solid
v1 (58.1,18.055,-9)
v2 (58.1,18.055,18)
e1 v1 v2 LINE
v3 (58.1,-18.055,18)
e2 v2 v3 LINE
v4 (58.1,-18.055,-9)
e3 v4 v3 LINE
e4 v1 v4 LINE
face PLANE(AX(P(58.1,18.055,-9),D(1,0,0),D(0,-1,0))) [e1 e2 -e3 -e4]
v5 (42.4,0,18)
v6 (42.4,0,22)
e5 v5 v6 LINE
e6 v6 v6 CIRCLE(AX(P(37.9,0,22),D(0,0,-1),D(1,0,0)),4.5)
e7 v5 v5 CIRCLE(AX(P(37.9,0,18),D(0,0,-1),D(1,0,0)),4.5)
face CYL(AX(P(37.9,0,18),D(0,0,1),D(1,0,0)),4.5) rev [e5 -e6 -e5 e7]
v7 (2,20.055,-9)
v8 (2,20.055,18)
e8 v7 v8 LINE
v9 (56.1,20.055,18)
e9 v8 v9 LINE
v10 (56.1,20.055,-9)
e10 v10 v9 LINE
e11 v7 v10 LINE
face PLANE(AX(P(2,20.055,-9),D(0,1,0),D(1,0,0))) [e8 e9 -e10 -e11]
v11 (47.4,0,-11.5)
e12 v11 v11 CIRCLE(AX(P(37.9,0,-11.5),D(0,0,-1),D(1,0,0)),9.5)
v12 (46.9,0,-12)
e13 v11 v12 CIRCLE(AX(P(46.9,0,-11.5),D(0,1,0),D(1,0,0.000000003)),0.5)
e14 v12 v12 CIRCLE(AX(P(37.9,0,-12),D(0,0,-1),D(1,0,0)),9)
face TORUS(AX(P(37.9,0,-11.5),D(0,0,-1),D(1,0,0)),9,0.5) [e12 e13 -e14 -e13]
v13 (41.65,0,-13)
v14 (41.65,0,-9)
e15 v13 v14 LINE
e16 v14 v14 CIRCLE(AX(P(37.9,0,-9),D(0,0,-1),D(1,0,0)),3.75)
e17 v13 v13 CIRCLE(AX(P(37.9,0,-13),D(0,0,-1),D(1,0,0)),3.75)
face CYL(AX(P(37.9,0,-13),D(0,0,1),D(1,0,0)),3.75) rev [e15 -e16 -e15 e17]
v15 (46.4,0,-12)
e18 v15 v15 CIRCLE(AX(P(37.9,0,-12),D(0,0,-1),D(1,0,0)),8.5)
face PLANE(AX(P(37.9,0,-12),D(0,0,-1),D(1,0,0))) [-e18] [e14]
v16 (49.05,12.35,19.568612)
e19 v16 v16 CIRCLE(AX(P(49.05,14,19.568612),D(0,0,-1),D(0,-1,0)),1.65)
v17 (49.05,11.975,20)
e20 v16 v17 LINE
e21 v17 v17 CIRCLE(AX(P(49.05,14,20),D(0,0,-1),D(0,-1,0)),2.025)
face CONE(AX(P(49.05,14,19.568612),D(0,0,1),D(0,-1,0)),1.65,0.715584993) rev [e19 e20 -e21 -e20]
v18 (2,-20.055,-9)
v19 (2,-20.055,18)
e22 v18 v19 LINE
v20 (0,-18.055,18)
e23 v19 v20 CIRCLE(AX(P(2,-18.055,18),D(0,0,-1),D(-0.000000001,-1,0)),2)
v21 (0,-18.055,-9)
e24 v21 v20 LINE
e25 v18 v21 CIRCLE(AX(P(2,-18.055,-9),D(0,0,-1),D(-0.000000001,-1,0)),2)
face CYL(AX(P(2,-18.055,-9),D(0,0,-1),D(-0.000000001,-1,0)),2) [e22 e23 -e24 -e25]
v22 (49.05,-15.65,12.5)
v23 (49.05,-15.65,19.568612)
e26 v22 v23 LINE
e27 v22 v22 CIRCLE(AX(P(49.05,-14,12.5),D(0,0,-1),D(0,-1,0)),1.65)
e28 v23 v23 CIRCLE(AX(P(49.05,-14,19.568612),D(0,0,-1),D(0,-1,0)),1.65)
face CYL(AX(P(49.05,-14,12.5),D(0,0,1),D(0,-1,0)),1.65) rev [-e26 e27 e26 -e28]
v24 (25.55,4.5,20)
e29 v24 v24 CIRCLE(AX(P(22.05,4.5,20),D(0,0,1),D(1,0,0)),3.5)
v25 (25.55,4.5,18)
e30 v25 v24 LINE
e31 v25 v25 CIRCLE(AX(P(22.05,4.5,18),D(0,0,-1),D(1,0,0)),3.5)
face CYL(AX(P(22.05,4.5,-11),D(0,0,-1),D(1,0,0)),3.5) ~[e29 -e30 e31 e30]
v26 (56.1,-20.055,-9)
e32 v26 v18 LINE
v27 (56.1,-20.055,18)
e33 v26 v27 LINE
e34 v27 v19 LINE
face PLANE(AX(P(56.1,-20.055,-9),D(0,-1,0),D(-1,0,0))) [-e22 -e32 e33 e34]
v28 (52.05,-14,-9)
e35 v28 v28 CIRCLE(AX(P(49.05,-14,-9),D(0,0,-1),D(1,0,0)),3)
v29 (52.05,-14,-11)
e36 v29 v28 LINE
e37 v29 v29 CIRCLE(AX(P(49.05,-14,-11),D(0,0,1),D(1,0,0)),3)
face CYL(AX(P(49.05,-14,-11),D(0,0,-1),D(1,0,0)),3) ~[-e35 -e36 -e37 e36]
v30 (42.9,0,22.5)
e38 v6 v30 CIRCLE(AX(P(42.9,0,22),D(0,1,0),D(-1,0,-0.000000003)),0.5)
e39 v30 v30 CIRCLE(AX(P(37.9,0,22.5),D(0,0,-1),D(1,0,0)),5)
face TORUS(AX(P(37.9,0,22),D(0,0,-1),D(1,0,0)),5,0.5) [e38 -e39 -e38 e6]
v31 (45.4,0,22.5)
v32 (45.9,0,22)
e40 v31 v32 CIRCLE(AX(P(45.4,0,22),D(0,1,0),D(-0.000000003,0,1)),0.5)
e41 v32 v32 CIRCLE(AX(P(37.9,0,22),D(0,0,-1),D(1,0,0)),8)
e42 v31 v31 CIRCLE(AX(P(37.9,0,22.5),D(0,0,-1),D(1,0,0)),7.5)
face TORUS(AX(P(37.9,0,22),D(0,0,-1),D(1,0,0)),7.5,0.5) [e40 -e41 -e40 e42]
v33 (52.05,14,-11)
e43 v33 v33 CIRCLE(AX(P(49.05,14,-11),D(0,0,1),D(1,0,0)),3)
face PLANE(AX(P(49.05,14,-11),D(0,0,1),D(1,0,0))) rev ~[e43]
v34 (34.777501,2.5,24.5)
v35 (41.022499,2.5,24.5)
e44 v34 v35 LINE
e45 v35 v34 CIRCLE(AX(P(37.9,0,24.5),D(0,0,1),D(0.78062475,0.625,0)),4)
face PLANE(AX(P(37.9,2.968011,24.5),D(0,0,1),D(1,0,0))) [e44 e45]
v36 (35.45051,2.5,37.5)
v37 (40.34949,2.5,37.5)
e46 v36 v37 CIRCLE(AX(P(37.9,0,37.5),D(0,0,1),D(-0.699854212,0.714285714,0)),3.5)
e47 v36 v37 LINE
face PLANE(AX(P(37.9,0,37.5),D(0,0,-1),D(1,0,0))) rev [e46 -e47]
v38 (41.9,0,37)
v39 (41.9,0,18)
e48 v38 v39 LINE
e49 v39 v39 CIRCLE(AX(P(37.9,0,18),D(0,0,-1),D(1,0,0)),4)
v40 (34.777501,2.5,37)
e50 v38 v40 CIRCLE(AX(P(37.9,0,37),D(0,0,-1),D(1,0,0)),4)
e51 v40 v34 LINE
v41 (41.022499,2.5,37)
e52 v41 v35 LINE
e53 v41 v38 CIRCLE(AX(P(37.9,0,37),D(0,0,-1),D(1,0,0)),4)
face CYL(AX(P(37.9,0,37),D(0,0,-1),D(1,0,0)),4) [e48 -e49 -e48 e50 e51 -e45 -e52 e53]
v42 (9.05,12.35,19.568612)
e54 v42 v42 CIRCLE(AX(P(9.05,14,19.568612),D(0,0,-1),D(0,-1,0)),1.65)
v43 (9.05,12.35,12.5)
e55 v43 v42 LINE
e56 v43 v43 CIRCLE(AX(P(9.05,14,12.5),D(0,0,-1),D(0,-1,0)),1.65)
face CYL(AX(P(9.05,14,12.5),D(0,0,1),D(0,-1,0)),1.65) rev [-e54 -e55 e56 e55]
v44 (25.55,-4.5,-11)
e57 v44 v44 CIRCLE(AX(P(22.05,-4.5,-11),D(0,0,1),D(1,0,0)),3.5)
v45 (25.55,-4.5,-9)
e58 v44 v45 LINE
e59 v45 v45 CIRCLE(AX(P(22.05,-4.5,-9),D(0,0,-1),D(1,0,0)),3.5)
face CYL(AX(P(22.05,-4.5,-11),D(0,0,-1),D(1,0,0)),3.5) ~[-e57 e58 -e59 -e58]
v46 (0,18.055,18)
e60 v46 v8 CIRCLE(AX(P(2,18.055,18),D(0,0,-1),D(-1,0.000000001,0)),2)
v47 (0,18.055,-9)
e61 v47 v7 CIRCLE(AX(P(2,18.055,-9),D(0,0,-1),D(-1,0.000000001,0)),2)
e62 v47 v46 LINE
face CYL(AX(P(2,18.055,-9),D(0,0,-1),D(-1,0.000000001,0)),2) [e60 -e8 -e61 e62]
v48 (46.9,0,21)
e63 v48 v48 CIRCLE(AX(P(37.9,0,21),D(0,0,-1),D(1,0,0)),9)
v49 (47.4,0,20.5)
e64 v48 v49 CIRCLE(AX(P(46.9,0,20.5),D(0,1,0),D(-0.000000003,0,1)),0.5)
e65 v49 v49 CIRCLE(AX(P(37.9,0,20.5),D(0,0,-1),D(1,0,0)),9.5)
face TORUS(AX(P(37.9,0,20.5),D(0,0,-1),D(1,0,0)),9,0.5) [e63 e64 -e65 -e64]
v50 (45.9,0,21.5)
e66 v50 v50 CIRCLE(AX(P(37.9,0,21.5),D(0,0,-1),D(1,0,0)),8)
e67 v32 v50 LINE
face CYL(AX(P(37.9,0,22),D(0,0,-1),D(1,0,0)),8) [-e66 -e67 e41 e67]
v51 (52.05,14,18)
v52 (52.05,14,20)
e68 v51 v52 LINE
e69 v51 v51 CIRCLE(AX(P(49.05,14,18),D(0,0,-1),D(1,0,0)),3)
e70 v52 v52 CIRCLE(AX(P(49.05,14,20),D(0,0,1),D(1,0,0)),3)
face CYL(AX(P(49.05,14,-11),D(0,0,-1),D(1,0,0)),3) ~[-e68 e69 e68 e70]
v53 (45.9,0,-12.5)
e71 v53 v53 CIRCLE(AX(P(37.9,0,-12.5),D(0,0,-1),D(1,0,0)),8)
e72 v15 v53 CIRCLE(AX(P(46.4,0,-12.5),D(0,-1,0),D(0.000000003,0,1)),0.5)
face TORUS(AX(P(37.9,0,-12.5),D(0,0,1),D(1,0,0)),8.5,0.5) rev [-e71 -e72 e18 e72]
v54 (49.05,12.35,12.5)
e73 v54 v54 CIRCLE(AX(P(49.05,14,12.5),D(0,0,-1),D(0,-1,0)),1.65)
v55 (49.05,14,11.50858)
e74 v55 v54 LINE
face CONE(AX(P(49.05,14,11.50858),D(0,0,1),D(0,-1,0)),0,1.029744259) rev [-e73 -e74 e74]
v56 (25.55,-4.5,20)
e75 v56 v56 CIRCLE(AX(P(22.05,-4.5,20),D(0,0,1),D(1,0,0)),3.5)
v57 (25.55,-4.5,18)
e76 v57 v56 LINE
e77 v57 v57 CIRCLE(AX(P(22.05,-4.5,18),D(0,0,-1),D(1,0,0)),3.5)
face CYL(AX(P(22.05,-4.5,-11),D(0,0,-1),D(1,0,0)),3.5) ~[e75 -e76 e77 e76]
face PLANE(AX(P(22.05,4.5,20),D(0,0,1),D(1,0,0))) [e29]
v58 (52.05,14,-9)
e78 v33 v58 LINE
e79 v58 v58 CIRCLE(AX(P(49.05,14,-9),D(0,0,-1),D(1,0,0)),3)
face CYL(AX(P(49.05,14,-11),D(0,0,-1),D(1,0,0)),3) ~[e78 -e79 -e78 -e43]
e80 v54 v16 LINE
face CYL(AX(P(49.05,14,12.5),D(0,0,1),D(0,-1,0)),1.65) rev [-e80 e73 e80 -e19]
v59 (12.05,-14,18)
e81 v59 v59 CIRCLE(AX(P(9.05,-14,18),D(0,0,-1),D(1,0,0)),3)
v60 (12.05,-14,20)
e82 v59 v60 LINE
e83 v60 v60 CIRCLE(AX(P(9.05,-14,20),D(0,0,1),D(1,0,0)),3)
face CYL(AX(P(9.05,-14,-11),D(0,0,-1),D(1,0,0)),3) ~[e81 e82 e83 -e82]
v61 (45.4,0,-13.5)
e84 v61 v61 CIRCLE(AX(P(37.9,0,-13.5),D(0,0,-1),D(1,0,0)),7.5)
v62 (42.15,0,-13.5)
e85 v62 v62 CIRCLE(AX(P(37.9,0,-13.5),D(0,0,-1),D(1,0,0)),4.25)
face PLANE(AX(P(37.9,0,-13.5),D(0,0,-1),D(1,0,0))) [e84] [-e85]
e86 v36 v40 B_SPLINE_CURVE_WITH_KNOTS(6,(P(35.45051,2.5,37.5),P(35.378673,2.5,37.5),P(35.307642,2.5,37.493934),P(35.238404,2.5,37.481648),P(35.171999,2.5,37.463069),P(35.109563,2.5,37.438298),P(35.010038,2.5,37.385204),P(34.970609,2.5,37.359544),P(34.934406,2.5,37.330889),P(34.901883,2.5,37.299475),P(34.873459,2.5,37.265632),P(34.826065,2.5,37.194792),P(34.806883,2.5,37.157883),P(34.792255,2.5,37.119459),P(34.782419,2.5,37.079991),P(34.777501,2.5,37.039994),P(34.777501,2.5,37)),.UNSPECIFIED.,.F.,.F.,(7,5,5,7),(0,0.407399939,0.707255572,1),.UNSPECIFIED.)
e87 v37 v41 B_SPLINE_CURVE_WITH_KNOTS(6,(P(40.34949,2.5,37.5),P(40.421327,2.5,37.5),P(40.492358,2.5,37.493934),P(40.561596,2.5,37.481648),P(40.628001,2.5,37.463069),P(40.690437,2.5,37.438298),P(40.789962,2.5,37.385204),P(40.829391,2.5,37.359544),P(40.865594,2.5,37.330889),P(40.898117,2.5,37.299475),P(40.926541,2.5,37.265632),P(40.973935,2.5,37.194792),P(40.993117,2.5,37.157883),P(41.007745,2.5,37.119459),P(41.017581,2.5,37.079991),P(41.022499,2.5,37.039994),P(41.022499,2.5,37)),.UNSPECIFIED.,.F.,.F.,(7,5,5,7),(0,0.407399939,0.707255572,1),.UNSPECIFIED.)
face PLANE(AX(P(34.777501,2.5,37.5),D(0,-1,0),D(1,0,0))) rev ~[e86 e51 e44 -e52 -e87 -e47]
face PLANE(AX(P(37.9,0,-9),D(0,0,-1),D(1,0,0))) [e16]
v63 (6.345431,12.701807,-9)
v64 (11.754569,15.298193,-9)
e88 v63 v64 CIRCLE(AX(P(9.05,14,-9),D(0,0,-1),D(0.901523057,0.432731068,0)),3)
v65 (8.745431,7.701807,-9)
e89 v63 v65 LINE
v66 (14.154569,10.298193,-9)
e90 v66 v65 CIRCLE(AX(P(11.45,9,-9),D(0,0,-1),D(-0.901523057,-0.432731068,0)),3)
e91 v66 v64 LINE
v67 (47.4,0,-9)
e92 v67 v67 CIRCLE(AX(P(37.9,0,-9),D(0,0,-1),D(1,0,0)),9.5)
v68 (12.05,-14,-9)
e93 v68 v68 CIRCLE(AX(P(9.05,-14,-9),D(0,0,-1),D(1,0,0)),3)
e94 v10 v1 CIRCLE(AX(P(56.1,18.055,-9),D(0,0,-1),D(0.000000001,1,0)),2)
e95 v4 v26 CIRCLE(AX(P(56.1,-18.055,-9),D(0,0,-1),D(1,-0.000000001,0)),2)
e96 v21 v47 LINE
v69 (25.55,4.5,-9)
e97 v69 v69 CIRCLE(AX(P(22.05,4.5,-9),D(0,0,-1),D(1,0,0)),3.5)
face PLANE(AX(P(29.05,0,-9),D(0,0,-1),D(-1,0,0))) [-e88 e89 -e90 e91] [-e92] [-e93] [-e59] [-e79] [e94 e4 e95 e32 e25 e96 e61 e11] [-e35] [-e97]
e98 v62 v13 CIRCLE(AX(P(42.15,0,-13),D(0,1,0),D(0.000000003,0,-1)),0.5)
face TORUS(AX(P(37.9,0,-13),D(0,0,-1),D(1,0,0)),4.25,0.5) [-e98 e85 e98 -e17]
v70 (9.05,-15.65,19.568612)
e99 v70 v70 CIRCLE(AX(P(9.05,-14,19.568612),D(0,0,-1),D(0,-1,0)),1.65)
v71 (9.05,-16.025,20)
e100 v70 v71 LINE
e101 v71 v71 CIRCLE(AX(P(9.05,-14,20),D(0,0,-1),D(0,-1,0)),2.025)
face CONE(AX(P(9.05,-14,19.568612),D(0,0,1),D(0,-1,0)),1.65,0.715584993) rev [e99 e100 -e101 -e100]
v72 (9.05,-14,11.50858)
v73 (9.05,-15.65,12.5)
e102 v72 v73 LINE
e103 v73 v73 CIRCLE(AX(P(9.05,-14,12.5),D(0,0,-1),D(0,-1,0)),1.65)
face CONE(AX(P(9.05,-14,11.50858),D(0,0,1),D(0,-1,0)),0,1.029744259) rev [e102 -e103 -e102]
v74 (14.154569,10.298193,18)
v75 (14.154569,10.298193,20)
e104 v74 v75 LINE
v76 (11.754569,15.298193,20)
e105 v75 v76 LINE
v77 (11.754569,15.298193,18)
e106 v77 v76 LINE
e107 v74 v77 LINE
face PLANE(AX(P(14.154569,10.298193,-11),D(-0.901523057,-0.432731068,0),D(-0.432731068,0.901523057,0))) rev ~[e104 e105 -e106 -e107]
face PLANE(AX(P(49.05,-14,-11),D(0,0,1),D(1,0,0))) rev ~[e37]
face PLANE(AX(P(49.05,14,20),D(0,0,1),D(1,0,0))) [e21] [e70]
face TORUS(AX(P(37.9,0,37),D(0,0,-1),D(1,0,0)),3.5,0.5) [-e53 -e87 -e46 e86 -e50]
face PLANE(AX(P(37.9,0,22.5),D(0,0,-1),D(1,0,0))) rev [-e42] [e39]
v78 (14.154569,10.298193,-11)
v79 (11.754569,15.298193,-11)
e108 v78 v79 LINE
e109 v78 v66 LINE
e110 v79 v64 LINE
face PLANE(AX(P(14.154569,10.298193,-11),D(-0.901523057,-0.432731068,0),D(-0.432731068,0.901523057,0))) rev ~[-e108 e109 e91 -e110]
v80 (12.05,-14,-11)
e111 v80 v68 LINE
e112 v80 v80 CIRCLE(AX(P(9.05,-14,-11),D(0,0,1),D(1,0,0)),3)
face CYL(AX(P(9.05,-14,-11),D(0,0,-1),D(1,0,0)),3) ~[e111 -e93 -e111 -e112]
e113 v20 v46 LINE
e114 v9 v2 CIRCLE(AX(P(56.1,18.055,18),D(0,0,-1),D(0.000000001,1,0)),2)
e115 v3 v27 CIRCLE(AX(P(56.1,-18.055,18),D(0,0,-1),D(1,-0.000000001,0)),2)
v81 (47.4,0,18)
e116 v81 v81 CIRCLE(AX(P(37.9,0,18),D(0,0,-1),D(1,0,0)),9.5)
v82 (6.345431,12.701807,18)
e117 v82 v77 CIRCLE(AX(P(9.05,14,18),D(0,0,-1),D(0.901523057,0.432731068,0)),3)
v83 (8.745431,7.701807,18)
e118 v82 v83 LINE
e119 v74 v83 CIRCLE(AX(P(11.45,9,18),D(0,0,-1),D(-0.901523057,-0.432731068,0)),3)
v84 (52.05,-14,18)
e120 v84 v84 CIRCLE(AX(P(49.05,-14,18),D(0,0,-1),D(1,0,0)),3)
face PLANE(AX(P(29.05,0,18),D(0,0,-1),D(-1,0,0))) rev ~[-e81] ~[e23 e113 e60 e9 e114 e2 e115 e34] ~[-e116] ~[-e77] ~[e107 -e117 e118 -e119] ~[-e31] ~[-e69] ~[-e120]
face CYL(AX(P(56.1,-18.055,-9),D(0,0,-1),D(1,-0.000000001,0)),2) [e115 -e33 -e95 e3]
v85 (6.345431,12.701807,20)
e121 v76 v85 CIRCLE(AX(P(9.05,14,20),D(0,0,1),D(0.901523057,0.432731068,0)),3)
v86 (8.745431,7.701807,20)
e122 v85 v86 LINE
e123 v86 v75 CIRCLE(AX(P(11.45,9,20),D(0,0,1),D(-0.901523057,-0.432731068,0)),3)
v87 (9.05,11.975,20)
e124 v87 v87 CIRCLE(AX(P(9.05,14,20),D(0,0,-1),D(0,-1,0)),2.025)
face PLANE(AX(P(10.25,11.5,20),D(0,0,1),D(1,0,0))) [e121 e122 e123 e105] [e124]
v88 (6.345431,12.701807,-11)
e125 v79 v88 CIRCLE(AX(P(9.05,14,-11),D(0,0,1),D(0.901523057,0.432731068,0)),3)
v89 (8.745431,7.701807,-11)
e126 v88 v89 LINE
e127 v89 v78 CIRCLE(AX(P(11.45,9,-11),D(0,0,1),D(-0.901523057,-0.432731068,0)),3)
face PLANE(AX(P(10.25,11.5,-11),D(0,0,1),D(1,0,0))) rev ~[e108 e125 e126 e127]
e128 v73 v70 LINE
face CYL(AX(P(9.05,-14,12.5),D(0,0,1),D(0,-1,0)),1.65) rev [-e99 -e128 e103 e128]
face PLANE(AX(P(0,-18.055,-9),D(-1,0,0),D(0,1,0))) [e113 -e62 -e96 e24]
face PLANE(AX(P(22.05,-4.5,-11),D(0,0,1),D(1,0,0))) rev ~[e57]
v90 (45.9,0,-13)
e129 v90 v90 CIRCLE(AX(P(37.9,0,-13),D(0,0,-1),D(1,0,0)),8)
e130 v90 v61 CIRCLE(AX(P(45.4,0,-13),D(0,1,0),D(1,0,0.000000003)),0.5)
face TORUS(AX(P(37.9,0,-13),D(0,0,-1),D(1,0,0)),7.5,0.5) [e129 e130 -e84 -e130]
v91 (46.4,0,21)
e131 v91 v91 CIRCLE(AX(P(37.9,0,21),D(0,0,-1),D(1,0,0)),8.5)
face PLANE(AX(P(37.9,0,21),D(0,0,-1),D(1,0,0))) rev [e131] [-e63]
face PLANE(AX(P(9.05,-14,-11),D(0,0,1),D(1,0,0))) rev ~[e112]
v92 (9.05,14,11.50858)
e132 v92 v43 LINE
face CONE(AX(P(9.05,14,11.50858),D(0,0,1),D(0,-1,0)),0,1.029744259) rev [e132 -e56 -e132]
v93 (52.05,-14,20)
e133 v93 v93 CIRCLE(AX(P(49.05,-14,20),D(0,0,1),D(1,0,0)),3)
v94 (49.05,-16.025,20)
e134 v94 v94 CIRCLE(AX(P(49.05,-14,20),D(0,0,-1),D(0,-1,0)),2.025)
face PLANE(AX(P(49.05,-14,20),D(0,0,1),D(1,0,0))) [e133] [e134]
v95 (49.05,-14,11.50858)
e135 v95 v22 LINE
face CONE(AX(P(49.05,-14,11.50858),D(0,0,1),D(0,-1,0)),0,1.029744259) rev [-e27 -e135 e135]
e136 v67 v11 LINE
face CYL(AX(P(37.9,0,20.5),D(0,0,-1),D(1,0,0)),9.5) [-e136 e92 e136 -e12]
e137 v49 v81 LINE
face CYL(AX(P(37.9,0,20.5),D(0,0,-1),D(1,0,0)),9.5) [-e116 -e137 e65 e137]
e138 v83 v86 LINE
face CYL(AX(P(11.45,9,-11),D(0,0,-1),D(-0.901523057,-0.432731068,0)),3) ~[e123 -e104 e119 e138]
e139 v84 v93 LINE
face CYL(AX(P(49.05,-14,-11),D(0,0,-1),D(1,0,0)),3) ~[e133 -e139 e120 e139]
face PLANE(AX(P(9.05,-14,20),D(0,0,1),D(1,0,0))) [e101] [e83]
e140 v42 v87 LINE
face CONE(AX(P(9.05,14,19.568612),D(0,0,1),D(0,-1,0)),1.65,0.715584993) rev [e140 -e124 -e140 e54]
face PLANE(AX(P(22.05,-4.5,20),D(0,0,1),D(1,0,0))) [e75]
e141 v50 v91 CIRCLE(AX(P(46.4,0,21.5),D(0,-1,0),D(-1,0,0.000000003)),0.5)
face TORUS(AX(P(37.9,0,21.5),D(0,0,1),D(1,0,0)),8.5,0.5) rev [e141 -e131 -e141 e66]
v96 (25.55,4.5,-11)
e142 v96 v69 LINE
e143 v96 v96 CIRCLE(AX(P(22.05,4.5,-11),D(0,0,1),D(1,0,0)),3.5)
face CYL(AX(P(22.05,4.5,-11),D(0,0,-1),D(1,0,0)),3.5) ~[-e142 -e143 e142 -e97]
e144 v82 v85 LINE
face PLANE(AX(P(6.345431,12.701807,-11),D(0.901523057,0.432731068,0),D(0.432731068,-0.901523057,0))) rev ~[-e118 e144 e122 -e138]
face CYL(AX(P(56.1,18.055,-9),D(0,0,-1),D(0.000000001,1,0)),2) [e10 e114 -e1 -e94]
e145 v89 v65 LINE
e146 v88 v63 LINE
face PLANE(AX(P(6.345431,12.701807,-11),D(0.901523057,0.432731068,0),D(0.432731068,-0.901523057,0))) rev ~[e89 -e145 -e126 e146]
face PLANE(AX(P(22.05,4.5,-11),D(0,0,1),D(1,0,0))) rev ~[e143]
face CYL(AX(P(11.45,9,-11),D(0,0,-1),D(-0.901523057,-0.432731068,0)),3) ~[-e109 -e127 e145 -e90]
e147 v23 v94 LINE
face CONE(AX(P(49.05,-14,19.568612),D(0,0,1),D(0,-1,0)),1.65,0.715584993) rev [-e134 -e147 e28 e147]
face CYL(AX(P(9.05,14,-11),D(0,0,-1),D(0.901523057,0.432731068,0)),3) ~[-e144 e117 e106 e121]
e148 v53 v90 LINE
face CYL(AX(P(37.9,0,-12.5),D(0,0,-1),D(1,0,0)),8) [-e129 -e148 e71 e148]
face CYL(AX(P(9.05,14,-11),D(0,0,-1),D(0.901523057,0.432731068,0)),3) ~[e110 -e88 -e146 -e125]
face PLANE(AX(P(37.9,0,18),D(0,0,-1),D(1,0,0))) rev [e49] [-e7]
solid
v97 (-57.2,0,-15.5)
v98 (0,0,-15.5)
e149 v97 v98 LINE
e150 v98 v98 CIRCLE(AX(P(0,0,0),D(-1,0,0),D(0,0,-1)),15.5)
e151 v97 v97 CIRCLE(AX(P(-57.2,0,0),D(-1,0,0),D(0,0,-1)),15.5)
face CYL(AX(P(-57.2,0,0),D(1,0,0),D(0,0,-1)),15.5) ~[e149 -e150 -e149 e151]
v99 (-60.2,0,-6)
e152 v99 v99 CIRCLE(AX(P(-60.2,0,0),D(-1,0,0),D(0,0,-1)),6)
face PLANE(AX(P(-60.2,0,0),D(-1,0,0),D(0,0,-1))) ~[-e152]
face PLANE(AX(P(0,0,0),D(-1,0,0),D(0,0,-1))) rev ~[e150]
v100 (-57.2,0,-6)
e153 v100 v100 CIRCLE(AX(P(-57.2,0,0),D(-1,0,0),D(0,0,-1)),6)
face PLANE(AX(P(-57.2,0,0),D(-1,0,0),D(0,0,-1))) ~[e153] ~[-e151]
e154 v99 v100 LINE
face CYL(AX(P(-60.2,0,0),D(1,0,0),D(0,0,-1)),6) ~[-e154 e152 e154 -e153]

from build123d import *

# Parameters (mm, degrees)
SALIENTE_EXTRUIR1_DEPTH            = 18
SALIENTE_EXTRUIR1_DEPTH_BACK       = 9
SALIENTE_EXTRUIR2_DEPTH            = 20
SALIENTE_EXTRUIR2_DEPTH_BACK       = 11
CROQUIS3_3_R                       = 3
CROQUIS3_3_R_2                     = 3.5
CORTAR_EXTRUIR1_DEPTH              = 13
TALADRO_ROSCADO_M4X0_71_AT_2_COUNT = 2
TALADRO_ROSCADO_M4X0_71_AT_2_PITCH = 40
TALADRO_ROSCADO_M4X0_71_AT_3_COUNT = 2
TALADRO_ROSCADO_M4X0_71_AT_3_PITCH = 48.826222463
TALADRO_ROSCADO_M4X0_71_AT_4_COUNT = 2
TALADRO_ROSCADO_M4X0_71_AT_4_PITCH = 28


with BuildPart() as part:
    # Croquis2 → Revolución1 (revolve)
    with BuildSketch(Plane.XY):
        Polygon((-57.2, 6), (-57.2, 15.5), (0, 15.5), (0, 0), (-57.2, 0), (-60.2, 0), (-60.2, 6), align=None)
    revolve(axis=Axis((0, 0, 0), (-1, 0, 0)))


with BuildPart() as body_2:
    # Croquis3 → Saliente-Extruir1 (new, two sides: drawn at the far end of the back side and taken through both)
    with BuildSketch(Plane.XY.offset(-SALIENTE_EXTRUIR1_DEPTH_BACK)):
        with BuildLine():
            Line((2, 20.055), (56.1, 20.055))
            ThreePointArc((56.1, 20.055), (57.514213562, 19.469213562), (58.1, 18.055))
            Line((58.1, 18.055), (58.1, -18.055))
            ThreePointArc((58.1, -18.055), (57.514213562, -19.469213562), (56.1, -20.055))
            Line((56.1, -20.055), (2, -20.055))
            ThreePointArc((2, -20.055), (0.585786438, -19.469213562), (0, -18.055))
            Line((0, -18.055), (0, 18.055))
            ThreePointArc((0, 18.055), (0.585786438, 19.469213562), (2, 20.055))
        make_face()
    extrude(amount=SALIENTE_EXTRUIR1_DEPTH + SALIENTE_EXTRUIR1_DEPTH_BACK)

    # Croquis3<3> → Saliente-Extruir2 (add, two sides: drawn at the far end of the back side and taken through both)
    with BuildSketch(Plane.XY.offset(-SALIENTE_EXTRUIR2_DEPTH_BACK)):
        with BuildLine():
            Line((14.154569172, 10.298193203), (11.754569172, 15.298193203))
            ThreePointArc((11.754569172, 15.298193203), (7.751806797, 16.704569172), (6.345430828, 12.701806797))
            Line((6.345430828, 12.701806797), (8.745430828, 7.701806797))
            ThreePointArc((8.745430828, 7.701806797), (12.748193203, 6.295430828), (14.154569172, 10.298193203))
        make_face()
        with Locations((49.05, 14)):
            Circle(CROQUIS3_3_R)
        with Locations((49.05, -14)):
            Circle(CROQUIS3_3_R)
        with Locations((9.05, -14)):
            Circle(CROQUIS3_3_R)
        with Locations((22.05, 4.5)):
            Circle(CROQUIS3_3_R_2)
        with Locations((22.05, -4.5)):
            Circle(CROQUIS3_3_R_2)
    extrude(amount=SALIENTE_EXTRUIR2_DEPTH + SALIENTE_EXTRUIR2_DEPTH_BACK)

    # Croquis4 → Revolución2 (revolve)
    with BuildSketch(Plane.ZY.offset(-37.9)):
        with BuildLine():
            Line((37.5, 0), (37.5, 3.5))
            ThreePointArc((37.5, 3.5), (37.353553391, 3.853553391), (37, 4))
            Line((37, 4), (18, 4))
            Line((18, 4), (18, 4.5))
            Line((18, 4.5), (22, 4.5))
            ThreePointArc((22, 4.5), (22.353553391, 4.646446609), (22.5, 5))
            Line((22.5, 5), (22.5, 7.5))
            ThreePointArc((22.5, 7.5), (22.353553391, 7.853553391), (22, 8))
            Line((22, 8), (21.5, 8))
            ThreePointArc((21.5, 8), (21.146446609, 8.146446609), (21, 8.5))
            Line((21, 8.5), (21, 9))
            ThreePointArc((21, 9), (20.853553391, 9.353553391), (20.5, 9.5))
            Line((20.5, 9.5), (-11.5, 9.5))
            ThreePointArc((-11.5, 9.5), (-11.853553391, 9.353553391), (-12, 9))
            Line((-12, 9), (-12, 8.5))
            ThreePointArc((-12, 8.5), (-12.146446609, 8.146446609), (-12.5, 8))
            Line((-12.5, 8), (-13, 8))
            ThreePointArc((-13, 8), (-13.353553391, 7.853553391), (-13.5, 7.5))
            Line((-13.5, 7.5), (-13.5, 4.25))
            ThreePointArc((-13.5, 4.25), (-13.353553391, 3.896446609), (-13, 3.75))
            Line((-13, 3.75), (-9, 3.75))
            Line((-9, 3.75), (-9, 0))
            Line((-9, 0), (18, 0))
            Line((18, 0), (37.5, 0))
        make_face()
    revolve(axis=Axis((37.9, 0, 18), (0, 0, -1)))

    # Croquis5 → Cortar-Extruir1 (cut)
    with BuildSketch(Plane.XY.offset(37.5)):
        with BuildLine():
            Line((34.777501001, 2.5), (41.022498999, 2.5))
            ThreePointArc((41.022498999, 2.5), (37.9, 4), (34.777501001, 2.5))
        make_face()
    extrude(amount=-CORTAR_EXTRUIR1_DEPTH, mode=Mode.SUBTRACT)

    # Croquis7 → Taladro roscado M4x0.71 (revolve, cut)
    with BuildSketch(Plane(origin=(9.05, 14, 20), x_dir=(0, -1, 0), z_dir=(1, 0, 0))):
        Polygon((0, 0), (0, 8.491420021), (1.65, 7.5), (1.65, 0.431388153), (2.025, 0), align=None)
    taladro_roscado_m4x0_71 = revolve(axis=Axis((9.05, 14, 26.35), (0, 0, -1)), mode=Mode.SUBTRACT)

    # Taladro roscado M4x0.71 at 2: Taladro roscado M4x0.71 ×2
    with Locations(*[(i * TALADRO_ROSCADO_M4X0_71_AT_2_PITCH, 0, 0) for i in range(1, TALADRO_ROSCADO_M4X0_71_AT_2_COUNT)]):
        add(taladro_roscado_m4x0_71, mode=Mode.SUBTRACT)

    # Taladro roscado M4x0.71 at 3: Taladro roscado M4x0.71 ×2
    with Locations(*[Vector(0.8192319205190406, -0.5734623443633283, 0) * (i * TALADRO_ROSCADO_M4X0_71_AT_3_PITCH) for i in range(1, TALADRO_ROSCADO_M4X0_71_AT_3_COUNT)]):
        add(taladro_roscado_m4x0_71, mode=Mode.SUBTRACT)

    # Taladro roscado M4x0.71 at 4: Taladro roscado M4x0.71 ×2
    with Locations(*[(0, -i * TALADRO_ROSCADO_M4X0_71_AT_4_PITCH, 0) for i in range(1, TALADRO_ROSCADO_M4X0_71_AT_4_COUNT)]):
        add(taladro_roscado_m4x0_71, mode=Mode.SUBTRACT)


solid = Compound([part.part, body_2.part])
